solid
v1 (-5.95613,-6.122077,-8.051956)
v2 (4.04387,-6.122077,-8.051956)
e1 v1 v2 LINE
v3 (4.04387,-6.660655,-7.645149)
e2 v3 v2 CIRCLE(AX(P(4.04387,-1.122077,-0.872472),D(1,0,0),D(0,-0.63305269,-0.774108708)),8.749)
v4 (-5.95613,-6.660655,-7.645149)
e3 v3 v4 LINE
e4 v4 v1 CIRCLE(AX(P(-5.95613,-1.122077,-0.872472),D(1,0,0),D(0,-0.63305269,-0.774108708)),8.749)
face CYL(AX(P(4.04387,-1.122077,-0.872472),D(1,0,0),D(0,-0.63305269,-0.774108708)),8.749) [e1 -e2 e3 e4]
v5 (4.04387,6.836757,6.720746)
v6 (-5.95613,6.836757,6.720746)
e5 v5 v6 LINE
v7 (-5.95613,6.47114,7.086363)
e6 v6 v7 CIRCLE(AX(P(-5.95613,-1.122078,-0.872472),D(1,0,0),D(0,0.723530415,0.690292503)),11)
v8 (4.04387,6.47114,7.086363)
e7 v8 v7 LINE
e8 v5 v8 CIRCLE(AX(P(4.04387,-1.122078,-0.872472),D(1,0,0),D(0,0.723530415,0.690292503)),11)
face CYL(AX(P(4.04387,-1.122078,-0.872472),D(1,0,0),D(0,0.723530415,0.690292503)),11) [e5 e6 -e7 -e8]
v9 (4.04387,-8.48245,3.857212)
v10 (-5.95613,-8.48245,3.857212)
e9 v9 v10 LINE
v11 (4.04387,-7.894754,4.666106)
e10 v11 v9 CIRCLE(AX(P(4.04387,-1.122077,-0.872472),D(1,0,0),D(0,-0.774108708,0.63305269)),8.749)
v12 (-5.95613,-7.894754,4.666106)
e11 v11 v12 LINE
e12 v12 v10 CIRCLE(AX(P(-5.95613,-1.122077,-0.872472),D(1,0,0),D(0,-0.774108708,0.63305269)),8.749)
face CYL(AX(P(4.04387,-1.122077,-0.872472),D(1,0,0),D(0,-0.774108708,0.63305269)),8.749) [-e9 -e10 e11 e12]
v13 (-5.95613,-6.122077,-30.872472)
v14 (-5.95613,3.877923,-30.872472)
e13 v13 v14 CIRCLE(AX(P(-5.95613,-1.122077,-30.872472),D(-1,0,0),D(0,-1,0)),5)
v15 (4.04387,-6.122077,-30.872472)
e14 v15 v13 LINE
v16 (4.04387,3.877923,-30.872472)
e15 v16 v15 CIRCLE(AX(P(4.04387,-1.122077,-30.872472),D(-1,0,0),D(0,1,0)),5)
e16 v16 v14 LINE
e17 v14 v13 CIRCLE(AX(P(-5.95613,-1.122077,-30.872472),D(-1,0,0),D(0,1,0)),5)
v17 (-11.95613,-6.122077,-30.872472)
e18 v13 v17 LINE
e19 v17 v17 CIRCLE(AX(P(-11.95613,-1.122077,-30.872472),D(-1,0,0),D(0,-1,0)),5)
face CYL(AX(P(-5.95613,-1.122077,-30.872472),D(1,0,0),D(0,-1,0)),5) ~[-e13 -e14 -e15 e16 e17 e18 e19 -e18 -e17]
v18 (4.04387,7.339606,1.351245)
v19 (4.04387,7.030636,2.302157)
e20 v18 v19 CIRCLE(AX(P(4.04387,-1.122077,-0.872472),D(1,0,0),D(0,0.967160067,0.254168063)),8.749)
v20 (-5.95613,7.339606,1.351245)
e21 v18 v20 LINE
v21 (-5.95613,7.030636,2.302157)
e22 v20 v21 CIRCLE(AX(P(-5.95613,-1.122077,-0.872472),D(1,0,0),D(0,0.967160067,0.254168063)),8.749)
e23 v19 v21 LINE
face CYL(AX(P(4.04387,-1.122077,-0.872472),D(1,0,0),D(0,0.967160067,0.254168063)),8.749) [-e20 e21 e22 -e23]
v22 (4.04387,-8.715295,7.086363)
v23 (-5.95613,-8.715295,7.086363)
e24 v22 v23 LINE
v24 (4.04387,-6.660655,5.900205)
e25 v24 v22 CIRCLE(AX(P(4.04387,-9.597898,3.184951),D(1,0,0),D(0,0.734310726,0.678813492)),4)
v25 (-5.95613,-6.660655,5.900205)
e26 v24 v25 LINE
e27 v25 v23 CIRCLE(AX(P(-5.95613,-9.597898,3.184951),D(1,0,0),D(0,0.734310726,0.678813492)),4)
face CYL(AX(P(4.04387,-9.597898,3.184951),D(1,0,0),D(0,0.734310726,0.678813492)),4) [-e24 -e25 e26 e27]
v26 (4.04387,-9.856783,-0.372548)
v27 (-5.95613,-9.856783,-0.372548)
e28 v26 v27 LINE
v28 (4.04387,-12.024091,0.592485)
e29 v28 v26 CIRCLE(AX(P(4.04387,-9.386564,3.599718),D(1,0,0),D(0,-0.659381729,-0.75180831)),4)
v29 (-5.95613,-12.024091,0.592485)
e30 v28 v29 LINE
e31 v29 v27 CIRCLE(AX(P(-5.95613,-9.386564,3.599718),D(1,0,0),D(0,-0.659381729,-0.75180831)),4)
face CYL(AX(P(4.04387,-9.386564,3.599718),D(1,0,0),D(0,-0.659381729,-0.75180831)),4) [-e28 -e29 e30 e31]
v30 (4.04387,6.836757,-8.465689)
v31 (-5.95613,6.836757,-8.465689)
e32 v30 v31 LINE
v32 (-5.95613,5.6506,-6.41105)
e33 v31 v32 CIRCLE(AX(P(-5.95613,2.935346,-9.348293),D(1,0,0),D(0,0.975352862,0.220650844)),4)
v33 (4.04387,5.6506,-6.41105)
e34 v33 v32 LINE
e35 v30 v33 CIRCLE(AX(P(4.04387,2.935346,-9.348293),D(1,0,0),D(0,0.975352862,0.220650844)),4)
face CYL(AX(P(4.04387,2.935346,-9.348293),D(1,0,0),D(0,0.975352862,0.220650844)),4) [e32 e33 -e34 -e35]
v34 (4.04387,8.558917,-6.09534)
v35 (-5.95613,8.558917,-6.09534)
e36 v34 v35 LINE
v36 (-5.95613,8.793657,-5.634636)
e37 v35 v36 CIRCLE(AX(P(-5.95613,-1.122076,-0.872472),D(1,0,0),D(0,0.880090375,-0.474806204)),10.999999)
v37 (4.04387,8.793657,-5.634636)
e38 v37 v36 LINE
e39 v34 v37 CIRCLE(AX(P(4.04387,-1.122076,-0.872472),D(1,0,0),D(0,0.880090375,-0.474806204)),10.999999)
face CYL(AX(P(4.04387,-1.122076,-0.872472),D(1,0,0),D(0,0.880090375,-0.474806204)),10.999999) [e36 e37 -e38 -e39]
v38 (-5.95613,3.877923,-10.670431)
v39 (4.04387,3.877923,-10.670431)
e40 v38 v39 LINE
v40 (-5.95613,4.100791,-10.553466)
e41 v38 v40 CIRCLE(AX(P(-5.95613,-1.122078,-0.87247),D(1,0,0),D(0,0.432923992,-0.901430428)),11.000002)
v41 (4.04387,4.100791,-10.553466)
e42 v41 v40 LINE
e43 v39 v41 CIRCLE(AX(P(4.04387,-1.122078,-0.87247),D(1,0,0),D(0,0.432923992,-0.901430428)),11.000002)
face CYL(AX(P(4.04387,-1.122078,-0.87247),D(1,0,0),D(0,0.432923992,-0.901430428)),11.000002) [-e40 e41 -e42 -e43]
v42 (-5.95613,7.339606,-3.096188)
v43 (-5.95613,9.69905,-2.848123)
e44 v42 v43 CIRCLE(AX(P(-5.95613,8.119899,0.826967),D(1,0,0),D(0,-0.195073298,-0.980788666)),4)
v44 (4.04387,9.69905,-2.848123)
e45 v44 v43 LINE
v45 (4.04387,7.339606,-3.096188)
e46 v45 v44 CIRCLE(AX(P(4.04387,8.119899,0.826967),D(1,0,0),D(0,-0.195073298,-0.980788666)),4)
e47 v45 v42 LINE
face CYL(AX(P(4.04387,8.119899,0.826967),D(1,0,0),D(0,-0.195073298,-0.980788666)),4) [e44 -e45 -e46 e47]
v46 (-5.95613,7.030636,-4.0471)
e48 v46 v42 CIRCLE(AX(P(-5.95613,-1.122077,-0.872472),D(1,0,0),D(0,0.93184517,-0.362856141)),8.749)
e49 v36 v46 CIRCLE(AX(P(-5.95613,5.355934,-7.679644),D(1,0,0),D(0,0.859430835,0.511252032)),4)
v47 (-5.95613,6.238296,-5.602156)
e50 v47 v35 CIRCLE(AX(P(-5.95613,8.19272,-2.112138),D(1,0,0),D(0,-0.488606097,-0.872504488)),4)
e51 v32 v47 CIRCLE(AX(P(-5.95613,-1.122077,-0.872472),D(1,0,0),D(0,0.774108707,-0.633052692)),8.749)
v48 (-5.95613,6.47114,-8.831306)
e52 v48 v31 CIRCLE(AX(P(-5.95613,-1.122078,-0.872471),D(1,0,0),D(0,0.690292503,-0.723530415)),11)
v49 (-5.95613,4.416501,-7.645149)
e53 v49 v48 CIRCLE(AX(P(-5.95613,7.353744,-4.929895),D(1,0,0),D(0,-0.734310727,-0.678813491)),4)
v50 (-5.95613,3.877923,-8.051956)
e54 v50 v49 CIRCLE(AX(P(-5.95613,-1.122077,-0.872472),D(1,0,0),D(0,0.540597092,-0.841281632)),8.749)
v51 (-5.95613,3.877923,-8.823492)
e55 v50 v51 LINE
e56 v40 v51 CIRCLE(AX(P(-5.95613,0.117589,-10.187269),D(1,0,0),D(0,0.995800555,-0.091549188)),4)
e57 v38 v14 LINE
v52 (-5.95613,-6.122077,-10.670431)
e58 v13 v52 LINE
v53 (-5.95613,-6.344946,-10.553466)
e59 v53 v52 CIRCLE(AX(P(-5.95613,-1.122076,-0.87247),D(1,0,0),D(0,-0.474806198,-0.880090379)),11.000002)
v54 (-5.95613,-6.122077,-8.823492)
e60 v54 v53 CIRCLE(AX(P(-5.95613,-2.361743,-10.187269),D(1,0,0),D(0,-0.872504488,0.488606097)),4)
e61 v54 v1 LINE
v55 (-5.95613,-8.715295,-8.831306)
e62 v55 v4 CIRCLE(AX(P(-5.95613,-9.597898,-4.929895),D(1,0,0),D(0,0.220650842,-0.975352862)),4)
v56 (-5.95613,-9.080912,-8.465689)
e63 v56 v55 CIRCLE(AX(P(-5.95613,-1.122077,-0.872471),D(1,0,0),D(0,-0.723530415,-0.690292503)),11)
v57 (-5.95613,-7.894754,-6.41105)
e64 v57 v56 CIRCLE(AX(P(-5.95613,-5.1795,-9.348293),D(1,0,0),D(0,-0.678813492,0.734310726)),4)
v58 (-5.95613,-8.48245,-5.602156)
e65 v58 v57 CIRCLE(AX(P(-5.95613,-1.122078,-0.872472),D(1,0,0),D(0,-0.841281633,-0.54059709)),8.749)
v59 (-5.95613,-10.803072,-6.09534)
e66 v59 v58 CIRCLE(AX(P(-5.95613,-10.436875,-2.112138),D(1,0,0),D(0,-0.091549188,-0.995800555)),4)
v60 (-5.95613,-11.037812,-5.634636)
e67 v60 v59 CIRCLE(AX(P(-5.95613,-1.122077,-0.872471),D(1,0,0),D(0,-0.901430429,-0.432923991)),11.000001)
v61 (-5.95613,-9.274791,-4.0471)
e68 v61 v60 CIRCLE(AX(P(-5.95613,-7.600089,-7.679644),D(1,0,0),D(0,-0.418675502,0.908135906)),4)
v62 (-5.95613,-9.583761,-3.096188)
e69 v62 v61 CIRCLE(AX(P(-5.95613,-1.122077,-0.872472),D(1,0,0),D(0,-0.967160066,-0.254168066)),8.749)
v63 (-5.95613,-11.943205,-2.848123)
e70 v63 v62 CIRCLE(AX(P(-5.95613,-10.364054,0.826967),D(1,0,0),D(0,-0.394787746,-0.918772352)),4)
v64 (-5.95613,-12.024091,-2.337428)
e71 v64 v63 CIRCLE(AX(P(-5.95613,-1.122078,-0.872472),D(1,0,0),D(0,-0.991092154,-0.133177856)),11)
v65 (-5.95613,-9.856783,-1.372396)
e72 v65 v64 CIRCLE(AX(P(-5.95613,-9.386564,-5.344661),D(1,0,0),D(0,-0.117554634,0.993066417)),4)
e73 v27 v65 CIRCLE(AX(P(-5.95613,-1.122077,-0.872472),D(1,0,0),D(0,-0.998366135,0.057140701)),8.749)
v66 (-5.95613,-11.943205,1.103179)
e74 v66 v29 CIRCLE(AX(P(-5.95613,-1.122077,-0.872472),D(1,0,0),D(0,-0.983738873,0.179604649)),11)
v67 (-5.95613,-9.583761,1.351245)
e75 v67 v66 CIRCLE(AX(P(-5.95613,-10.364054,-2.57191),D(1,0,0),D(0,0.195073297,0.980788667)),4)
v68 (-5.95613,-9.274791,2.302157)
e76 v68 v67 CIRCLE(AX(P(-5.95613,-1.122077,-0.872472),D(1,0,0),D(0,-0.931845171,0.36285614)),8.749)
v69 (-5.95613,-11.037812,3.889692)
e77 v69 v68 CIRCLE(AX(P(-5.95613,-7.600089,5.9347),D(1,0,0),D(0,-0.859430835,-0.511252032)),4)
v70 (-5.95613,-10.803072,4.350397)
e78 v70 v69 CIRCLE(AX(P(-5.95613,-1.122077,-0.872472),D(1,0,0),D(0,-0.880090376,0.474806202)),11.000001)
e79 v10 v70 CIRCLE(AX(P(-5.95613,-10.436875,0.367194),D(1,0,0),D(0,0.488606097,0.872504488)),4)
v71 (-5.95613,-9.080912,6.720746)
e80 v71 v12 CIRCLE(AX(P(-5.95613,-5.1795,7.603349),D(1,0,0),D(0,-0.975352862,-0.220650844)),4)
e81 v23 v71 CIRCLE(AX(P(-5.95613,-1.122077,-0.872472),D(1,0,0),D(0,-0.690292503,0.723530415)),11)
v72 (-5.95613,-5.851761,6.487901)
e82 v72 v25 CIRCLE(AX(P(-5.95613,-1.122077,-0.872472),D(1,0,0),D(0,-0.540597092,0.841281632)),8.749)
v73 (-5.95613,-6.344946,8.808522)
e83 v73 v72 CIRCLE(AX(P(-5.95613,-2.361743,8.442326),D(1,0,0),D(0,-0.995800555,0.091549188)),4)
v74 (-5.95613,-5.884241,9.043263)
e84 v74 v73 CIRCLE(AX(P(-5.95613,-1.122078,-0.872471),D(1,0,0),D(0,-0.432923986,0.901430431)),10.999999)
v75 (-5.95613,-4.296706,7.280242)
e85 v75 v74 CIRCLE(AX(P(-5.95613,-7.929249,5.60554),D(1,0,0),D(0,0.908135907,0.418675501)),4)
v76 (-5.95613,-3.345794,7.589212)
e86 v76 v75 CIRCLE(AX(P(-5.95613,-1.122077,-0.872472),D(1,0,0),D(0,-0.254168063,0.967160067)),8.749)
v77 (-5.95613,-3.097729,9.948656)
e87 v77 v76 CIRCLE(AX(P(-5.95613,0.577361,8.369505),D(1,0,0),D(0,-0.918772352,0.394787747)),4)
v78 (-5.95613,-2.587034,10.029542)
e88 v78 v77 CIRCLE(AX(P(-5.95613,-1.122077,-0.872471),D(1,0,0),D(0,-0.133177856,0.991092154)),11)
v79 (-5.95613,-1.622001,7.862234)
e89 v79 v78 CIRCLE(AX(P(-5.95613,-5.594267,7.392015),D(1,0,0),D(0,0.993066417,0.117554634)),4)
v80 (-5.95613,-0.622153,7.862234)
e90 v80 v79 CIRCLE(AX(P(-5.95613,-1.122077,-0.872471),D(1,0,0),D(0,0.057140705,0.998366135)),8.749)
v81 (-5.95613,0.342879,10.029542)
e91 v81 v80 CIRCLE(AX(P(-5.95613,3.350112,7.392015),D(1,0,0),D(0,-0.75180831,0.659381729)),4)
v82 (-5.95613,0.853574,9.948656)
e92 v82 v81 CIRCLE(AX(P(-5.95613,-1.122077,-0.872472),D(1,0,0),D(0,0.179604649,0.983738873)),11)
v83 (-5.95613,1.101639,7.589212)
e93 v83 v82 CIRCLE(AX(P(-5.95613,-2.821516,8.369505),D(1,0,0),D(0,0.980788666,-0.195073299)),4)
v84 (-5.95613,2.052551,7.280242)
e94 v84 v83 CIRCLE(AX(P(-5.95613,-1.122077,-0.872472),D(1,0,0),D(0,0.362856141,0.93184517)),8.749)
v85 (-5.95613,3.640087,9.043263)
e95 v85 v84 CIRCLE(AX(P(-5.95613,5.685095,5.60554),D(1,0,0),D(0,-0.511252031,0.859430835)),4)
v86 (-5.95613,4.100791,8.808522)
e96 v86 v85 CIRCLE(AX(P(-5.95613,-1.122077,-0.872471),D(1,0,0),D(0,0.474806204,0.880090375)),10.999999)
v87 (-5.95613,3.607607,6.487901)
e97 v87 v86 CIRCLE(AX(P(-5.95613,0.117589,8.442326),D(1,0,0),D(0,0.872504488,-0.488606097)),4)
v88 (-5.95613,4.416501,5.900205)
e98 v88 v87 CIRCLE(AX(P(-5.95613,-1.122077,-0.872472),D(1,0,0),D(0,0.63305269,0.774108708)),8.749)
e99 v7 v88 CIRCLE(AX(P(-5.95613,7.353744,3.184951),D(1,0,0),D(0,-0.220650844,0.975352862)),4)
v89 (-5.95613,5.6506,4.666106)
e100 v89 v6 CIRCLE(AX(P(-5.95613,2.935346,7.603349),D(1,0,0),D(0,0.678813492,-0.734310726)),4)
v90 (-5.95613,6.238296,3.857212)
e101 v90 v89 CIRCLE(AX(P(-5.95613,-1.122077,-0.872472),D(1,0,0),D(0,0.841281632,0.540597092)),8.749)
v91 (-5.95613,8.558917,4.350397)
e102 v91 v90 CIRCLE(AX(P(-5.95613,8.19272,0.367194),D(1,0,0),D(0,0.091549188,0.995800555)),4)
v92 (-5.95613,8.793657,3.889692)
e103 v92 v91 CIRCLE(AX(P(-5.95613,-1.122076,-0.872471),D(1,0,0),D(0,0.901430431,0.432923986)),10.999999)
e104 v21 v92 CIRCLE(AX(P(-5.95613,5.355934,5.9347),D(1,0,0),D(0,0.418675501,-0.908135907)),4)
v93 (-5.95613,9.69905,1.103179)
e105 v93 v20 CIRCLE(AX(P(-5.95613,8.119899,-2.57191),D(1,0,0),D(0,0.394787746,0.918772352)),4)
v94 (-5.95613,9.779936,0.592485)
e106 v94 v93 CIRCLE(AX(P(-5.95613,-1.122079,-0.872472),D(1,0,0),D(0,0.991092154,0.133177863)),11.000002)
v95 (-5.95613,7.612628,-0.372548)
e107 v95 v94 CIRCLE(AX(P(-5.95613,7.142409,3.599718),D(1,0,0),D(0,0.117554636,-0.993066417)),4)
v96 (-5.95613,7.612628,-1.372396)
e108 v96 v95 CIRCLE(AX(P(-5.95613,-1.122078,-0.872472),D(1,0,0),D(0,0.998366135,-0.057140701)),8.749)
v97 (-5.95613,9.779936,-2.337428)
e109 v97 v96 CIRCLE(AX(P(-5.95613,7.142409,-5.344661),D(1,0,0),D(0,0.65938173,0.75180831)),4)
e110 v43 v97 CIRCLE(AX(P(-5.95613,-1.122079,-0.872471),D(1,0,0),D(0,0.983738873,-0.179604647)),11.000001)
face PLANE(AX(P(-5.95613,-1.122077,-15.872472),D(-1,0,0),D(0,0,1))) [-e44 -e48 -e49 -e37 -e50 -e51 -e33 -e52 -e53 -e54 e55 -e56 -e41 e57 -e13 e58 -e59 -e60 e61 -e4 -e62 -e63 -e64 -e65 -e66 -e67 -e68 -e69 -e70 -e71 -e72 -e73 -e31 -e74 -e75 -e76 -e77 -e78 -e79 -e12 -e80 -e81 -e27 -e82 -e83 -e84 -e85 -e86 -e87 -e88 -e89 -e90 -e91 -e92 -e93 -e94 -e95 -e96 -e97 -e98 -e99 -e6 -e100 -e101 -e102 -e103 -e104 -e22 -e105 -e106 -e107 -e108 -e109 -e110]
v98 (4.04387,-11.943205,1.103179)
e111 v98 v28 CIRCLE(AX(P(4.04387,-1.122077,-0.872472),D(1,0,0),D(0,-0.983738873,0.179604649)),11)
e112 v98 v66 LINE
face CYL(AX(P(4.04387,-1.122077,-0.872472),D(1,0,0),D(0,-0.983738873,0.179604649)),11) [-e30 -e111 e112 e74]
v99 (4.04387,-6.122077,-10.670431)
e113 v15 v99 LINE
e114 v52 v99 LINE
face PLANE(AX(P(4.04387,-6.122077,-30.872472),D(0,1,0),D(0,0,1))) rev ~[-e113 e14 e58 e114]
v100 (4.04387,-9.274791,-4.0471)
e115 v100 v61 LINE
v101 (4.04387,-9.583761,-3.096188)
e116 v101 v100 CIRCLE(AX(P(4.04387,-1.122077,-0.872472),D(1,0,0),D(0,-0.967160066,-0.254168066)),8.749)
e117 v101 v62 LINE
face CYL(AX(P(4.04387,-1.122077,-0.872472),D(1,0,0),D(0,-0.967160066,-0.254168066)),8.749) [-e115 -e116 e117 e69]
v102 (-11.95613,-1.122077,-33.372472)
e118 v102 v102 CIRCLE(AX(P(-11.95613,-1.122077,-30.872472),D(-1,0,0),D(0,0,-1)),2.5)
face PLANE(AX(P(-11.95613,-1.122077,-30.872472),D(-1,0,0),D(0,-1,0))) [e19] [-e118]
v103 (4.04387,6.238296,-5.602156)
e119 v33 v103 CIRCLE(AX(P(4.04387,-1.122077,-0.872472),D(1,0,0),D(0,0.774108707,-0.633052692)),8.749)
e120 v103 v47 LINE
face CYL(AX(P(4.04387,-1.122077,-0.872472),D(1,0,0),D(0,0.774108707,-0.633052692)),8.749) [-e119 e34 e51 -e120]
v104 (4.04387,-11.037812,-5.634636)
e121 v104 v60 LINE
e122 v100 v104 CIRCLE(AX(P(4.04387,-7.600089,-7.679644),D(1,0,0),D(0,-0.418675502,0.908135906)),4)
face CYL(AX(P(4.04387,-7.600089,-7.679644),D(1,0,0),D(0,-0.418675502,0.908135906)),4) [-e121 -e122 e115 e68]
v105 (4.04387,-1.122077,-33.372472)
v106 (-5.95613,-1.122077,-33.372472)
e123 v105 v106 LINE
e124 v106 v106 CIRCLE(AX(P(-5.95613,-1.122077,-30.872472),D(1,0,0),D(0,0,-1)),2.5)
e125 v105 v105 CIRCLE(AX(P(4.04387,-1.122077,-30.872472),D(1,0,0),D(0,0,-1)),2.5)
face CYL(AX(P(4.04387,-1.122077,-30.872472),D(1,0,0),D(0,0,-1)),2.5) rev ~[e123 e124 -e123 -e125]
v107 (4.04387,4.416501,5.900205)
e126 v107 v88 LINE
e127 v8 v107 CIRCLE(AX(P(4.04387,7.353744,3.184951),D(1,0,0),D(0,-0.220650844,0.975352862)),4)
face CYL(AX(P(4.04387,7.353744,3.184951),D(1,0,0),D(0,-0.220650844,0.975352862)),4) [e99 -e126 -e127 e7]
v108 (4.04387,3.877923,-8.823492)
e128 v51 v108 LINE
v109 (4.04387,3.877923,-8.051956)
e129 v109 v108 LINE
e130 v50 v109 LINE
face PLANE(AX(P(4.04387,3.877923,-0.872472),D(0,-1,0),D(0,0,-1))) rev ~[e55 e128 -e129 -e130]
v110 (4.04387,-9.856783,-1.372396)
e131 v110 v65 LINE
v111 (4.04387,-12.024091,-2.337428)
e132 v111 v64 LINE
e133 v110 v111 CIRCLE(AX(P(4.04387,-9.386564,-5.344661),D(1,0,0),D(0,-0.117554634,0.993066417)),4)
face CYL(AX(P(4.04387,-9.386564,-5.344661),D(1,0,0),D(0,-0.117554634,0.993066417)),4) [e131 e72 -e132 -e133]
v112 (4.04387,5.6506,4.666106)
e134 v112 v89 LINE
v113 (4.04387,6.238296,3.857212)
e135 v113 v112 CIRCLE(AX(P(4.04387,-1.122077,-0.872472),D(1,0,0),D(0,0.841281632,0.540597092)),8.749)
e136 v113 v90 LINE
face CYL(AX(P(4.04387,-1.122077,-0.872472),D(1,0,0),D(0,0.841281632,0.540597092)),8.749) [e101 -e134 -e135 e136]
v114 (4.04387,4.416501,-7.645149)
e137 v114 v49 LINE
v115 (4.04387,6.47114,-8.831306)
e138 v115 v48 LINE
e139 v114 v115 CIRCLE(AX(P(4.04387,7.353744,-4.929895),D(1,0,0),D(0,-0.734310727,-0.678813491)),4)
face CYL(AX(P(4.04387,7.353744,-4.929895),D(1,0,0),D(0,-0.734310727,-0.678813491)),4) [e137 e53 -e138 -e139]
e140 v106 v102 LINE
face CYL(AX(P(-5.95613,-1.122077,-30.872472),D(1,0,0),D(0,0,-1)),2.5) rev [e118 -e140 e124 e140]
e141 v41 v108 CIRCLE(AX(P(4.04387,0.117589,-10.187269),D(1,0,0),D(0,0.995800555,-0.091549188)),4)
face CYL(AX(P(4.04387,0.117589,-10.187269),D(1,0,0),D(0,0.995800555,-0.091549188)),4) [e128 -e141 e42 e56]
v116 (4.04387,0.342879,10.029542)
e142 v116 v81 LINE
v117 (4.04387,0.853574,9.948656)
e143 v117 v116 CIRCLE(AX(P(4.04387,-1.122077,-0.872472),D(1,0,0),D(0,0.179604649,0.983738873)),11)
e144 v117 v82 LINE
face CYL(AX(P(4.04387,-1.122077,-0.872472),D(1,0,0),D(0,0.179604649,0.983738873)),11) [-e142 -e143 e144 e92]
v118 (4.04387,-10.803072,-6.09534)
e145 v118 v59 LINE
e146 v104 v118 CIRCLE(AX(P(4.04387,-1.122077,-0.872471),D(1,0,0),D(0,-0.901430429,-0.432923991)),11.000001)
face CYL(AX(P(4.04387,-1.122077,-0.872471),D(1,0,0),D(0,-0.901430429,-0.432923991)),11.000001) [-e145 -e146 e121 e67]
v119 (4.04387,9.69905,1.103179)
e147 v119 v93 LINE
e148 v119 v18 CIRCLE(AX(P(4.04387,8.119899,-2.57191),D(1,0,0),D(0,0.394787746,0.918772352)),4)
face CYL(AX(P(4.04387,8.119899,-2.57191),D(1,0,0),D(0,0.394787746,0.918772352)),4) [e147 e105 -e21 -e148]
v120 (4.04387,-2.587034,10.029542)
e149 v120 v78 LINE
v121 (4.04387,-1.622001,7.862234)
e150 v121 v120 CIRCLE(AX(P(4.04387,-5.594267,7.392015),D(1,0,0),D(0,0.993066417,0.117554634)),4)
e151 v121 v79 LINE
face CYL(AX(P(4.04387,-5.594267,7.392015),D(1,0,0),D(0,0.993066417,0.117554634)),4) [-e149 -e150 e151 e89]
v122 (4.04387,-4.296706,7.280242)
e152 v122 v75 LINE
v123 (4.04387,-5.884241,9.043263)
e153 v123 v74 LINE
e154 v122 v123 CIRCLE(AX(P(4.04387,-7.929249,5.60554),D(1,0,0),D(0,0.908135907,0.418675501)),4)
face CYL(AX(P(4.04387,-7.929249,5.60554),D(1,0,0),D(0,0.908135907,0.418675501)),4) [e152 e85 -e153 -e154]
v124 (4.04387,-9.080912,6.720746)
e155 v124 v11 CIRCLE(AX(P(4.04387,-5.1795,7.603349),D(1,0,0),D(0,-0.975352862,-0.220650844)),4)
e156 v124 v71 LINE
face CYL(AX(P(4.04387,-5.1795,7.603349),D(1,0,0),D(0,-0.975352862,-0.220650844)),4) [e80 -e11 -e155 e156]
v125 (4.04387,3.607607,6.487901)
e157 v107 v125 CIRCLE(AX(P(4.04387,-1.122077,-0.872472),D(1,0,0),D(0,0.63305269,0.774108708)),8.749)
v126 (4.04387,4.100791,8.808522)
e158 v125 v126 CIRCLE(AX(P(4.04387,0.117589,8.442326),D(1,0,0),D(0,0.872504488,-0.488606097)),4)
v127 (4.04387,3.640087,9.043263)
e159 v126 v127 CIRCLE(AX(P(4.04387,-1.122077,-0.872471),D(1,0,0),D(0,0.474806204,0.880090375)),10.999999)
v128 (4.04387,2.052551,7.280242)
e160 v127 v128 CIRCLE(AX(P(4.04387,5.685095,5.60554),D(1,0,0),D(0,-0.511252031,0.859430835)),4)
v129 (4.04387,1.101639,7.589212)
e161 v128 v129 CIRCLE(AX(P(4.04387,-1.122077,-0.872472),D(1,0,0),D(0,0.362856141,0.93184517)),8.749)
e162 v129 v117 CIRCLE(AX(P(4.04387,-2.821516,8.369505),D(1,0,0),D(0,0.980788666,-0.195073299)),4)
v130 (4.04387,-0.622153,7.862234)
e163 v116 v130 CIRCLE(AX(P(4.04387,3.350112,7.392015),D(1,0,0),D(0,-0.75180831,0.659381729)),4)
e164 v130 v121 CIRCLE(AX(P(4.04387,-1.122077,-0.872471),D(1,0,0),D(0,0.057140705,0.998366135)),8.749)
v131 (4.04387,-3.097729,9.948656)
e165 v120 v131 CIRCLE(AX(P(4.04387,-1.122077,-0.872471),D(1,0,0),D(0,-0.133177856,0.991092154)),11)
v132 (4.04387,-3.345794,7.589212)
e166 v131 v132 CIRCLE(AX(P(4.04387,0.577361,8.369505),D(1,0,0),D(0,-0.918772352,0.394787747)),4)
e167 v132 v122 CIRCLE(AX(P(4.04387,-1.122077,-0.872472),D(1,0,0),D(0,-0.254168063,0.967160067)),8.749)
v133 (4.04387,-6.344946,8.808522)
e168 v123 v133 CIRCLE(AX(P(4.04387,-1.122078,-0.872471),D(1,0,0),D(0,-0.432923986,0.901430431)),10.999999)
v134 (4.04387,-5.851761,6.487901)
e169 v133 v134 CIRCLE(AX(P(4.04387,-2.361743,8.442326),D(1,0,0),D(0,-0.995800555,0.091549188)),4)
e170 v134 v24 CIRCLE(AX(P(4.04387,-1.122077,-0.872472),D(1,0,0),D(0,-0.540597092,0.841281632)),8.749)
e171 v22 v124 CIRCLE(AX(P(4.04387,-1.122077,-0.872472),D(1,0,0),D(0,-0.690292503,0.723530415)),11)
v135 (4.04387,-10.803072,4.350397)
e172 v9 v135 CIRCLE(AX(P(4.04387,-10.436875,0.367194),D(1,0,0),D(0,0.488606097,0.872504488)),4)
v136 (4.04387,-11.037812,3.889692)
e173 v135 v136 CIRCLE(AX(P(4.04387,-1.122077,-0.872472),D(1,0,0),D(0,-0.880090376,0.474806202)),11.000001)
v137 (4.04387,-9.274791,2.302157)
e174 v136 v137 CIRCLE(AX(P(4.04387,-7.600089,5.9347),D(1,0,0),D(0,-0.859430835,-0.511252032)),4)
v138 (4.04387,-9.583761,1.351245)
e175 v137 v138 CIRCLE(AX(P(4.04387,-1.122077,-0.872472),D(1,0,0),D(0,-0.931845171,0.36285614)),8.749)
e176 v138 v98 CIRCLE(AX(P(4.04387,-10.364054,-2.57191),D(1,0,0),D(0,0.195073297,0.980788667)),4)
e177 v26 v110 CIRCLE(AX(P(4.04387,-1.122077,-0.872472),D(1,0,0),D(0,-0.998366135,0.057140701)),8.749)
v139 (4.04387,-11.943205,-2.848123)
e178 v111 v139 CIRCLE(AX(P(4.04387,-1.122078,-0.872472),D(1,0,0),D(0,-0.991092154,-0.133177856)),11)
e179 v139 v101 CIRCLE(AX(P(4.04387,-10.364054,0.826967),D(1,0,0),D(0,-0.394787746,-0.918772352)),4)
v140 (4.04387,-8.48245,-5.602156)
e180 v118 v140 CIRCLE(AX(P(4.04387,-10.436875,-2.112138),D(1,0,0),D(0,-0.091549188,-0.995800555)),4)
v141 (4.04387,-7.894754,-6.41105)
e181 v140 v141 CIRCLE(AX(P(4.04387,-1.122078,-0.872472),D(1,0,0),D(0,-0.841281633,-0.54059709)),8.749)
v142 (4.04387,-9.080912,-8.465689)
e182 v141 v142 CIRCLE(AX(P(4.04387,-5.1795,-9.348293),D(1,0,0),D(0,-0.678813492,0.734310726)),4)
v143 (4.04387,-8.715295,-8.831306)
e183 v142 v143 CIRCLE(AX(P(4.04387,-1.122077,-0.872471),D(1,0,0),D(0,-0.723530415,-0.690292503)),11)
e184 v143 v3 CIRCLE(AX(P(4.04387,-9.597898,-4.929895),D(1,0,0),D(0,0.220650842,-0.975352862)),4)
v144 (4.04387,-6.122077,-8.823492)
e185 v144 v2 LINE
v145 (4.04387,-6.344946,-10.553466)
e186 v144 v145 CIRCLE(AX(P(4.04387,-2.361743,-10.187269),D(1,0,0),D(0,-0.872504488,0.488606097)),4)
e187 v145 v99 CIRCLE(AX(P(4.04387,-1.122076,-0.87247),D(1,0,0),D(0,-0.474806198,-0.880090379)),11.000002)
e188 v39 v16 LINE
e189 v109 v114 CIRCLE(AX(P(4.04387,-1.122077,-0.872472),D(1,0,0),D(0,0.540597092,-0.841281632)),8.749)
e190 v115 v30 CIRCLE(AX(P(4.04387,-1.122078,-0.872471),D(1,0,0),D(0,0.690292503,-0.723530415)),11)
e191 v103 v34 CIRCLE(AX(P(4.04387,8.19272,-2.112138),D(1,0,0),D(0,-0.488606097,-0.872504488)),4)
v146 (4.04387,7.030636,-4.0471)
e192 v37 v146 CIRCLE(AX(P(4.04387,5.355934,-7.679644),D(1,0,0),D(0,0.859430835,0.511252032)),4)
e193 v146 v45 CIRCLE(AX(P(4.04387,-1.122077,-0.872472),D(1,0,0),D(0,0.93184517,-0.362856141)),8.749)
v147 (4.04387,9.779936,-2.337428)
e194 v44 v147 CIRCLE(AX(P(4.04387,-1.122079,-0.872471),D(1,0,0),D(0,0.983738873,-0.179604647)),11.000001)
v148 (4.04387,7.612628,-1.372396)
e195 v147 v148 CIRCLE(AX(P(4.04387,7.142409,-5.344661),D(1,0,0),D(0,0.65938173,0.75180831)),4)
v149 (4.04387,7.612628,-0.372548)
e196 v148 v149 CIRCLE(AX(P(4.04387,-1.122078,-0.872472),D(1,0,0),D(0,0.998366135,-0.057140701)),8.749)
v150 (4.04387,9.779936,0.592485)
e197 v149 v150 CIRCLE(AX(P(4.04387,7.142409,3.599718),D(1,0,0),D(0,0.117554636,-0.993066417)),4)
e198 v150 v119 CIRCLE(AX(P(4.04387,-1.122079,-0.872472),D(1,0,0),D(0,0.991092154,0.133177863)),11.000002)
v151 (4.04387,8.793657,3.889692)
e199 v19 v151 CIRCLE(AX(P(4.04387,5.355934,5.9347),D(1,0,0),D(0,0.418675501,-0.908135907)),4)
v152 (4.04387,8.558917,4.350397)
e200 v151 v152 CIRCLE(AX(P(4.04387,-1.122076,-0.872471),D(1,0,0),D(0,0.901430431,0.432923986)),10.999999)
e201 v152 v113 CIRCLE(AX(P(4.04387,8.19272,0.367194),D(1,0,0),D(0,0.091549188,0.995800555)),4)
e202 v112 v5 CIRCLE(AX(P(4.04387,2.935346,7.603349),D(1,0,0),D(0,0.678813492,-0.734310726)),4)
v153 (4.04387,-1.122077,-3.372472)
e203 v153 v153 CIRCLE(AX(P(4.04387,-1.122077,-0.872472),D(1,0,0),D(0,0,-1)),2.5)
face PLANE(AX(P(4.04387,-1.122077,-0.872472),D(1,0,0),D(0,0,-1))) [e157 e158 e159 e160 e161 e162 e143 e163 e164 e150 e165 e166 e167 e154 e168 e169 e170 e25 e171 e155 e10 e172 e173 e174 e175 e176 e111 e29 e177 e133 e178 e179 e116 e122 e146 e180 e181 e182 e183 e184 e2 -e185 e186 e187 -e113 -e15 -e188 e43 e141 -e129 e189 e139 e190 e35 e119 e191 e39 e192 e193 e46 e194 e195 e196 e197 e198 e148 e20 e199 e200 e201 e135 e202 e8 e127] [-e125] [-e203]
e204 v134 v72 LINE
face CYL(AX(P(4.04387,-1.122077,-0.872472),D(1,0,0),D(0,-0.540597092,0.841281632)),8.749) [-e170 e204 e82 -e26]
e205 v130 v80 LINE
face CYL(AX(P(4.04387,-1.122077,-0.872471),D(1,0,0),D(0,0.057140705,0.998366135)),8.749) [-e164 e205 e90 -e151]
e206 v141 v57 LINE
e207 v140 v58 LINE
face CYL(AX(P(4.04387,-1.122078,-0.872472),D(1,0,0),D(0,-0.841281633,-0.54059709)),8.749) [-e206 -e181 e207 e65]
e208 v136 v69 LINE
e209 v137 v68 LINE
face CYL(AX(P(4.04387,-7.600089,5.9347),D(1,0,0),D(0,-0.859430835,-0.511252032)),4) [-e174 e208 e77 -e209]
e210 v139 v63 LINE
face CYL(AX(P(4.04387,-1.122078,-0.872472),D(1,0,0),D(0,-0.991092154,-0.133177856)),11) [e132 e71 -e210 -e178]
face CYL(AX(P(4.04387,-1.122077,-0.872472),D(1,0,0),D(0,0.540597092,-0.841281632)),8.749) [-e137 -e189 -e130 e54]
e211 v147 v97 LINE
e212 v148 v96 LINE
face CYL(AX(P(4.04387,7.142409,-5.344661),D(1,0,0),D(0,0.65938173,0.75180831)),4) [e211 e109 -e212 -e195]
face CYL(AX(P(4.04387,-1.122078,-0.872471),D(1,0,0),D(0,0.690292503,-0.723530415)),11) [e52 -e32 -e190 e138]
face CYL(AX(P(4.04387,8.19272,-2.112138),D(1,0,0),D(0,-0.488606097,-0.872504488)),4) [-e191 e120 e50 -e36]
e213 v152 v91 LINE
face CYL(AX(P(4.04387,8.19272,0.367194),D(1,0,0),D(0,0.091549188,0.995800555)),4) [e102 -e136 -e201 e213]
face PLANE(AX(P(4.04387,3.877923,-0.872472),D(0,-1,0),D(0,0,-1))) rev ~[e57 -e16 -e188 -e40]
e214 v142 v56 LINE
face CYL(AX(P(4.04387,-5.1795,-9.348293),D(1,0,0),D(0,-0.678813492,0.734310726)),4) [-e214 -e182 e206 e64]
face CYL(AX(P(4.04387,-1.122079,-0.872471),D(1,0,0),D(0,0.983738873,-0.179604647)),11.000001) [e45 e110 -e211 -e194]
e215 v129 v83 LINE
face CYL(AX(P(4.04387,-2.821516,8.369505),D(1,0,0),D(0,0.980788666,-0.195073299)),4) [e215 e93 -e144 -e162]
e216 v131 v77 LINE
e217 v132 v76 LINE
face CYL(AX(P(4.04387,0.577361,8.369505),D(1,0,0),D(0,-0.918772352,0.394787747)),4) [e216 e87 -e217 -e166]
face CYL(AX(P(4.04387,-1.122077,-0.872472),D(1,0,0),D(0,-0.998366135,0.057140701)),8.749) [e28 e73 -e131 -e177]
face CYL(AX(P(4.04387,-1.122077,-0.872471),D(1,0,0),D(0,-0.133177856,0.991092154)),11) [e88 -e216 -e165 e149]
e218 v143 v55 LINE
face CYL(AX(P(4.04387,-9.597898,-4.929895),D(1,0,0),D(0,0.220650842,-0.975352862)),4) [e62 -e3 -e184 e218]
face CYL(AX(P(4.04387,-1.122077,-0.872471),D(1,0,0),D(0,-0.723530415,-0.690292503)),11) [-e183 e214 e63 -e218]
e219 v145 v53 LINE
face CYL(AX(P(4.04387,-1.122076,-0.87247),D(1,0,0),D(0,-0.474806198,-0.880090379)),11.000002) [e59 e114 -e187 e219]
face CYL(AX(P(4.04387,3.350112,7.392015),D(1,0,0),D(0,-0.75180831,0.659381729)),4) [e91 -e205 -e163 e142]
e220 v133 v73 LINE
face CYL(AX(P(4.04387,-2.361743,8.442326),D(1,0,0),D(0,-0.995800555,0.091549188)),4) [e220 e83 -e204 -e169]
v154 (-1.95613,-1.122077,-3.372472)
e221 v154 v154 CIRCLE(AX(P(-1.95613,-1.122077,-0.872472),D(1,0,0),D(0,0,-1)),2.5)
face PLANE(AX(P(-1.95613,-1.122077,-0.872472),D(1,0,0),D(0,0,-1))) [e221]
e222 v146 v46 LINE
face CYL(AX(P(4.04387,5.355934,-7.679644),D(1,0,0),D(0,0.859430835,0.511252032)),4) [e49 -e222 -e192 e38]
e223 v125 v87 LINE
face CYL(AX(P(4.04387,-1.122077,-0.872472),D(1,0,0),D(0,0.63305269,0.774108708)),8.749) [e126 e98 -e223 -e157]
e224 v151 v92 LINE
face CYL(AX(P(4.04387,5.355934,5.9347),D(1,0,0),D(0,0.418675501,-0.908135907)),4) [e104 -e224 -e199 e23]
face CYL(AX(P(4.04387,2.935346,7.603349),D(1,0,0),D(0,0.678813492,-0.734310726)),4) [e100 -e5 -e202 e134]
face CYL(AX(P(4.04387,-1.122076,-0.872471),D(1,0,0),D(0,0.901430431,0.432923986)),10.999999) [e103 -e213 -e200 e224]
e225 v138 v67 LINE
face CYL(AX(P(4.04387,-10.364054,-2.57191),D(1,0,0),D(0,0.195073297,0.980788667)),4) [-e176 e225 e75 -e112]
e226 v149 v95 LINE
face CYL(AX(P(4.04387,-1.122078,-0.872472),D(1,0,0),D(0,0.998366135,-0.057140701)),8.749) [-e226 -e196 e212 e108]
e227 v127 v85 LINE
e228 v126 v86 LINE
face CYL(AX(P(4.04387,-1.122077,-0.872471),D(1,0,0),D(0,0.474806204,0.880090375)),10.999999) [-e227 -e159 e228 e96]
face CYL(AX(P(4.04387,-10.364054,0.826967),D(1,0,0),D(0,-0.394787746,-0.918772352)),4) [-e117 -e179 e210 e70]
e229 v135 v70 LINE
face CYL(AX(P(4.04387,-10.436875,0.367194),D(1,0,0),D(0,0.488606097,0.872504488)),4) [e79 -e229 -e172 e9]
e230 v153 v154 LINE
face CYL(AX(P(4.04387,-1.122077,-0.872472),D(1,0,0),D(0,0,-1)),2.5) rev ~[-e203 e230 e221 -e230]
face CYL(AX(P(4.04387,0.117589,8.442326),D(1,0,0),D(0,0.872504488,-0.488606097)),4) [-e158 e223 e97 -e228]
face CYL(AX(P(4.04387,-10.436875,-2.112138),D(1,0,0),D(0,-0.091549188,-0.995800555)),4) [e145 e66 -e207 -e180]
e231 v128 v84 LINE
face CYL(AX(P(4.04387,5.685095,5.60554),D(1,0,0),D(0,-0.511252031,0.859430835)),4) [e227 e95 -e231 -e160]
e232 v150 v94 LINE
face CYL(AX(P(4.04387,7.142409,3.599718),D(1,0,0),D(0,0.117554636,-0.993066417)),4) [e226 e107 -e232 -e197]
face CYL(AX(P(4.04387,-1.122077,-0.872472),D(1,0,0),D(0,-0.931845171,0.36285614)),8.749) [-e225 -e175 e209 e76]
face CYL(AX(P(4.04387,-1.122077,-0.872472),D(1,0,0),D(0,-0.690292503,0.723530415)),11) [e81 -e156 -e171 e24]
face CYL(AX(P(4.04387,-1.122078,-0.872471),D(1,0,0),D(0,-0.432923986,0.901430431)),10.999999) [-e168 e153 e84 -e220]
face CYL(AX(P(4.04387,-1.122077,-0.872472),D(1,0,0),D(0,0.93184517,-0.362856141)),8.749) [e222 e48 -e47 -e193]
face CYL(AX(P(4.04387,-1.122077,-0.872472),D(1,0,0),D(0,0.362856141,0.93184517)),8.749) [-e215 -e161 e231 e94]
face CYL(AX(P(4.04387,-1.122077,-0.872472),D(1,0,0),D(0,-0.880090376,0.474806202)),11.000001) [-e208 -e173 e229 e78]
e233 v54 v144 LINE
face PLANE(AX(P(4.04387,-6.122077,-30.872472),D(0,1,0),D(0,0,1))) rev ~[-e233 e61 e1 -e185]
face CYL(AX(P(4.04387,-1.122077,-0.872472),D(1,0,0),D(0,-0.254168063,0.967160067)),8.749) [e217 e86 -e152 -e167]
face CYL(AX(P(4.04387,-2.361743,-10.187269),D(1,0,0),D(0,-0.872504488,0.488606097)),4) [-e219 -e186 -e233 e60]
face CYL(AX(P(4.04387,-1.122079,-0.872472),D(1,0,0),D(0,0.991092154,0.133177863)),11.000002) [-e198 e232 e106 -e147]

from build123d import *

# Parameters (mm, degrees)
SKETCH1_R           = 2.5
BOSS_EXTRUDE1_DEPTH = 10
SKETCH2_R           = 2.5
BOSS_EXTRUDE2_DEPTH = 10
SKETCH3_R           = 5
SKETCH3_R_2         = 2.5
BOSS_EXTRUDE3_DEPTH = 6
SKETCH4_R           = 2.5
CUT_EXTRUDE1_DEPTH  = 6


with BuildPart() as part:
    # Sketch1 → Boss-Extrude1 (new body)
    with BuildSketch(Plane(origin=(4.043870029, 0, 0), x_dir=(0, 0, -1), z_dir=(1, 0, 0))):
        with BuildLine():
            ThreePointArc((-10.029541992, 0.342879069), (-9.019080639, -0.304016541), (-7.862233613, -0.622153359))
            ThreePointArc((-7.862233613, -0.622153359), (-7.876528296, -1.122077366), (-7.862233613, -1.622001374))
            ThreePointArc((-7.862233613, -1.622001374), (-9.019080639, -1.940138191), (-10.029541992, -2.587033801))
            ThreePointArc((-10.029541992, -2.587033801), (-9.992100042, -2.842856482), (-9.948655897, -3.097728508))
            ThreePointArc((-9.948655897, -3.097728508), (-8.787748306, -3.400713063), (-7.58921172, -3.345793765))
            ThreePointArc((-7.58921172, -3.345793765), (-7.448321757, -3.82566705), (-7.280241692, -4.296705735))
            ThreePointArc((-7.280241692, -4.296705735), (-8.282158911, -4.956757219), (-9.043263028, -5.884241235))
            ThreePointArc((-9.043263028, -5.884241235), (-8.928600062, -6.115972863), (-8.808522437, -6.344945585))
            ThreePointArc((-8.808522437, -6.344945585), (-7.610806331, -6.274360846), (-6.487901298, -5.851761317))
            ThreePointArc((-6.487901298, -5.851761317), (-6.20561798, -6.264610538), (-5.90020538, -6.660655353))
            ThreePointArc((-5.90020538, -6.660655353), (-6.649118154, -7.598011066), (-7.086362862, -8.715294889))
            ThreePointArc((-7.086362862, -8.715294889), (-6.905702889, -8.900251959), (-6.720745819, -9.080911932))
            ThreePointArc((-6.720745819, -9.080911932), (-5.603461996, -8.643667224), (-4.666106283, -7.89475445))
            ThreePointArc((-4.666106283, -7.89475445), (-4.270061468, -8.20016705), (-3.857212247, -8.482450368))
            ThreePointArc((-3.857212247, -8.482450368), (-4.279811776, -9.605355401), (-4.350396515, -10.803071507))
            ThreePointArc((-4.350396515, -10.803071507), (-4.121423793, -10.923149132), (-3.889692165, -11.037812099))
            ThreePointArc((-3.889692165, -11.037812099), (-2.962208149, -10.276707981), (-2.302156665, -9.274790762))
            ThreePointArc((-2.302156665, -9.274790762), (-1.83111798, -9.442870827), (-1.351244695, -9.583760791))
            ThreePointArc((-1.351244695, -9.583760791), (-1.406163992, -10.782297376), (-1.103179437, -11.943204968))
            ThreePointArc((-1.103179437, -11.943204968), (-0.848307411, -11.986649113), (-0.592484731, -12.024091063))
            ThreePointArc((-0.592484731, -12.024091063), (0.054410879, -11.01362971), (0.372547697, -9.856782684))
            ThreePointArc((0.372547697, -9.856782684), (0.872471704, -9.871077366), (1.372395712, -9.856782684))
            ThreePointArc((1.372395712, -9.856782684), (1.690532529, -11.01362971), (2.337428139, -12.024091063))
            ThreePointArc((2.337428139, -12.024091063), (2.59325082, -11.986649113), (2.848122846, -11.943204968))
            ThreePointArc((2.848122846, -11.943204968), (3.151107401, -10.782297376), (3.096188103, -9.583760791))
            ThreePointArc((3.096188103, -9.583760791), (3.576061388, -9.442870827), (4.047100073, -9.274790762))
            ThreePointArc((4.047100073, -9.274790762), (4.707151558, -10.276707981), (5.634635573, -11.037812099))
            ThreePointArc((5.634635573, -11.037812099), (5.866367201, -10.923149132), (6.095339923, -10.803071507))
            ThreePointArc((6.095339923, -10.803071507), (6.024755184, -9.605355401), (5.602155655, -8.482450368))
            ThreePointArc((5.602155655, -8.482450368), (6.015004877, -8.20016705), (6.411049691, -7.89475445))
            ThreePointArc((6.411049691, -7.89475445), (7.348405404, -8.643667224), (8.465689227, -9.080911932))
            ThreePointArc((8.465689227, -9.080911932), (8.650646297, -8.900251959), (8.83130627, -8.715294889))
            ThreePointArc((8.83130627, -8.715294889), (8.394061563, -7.598011066), (7.645148788, -6.660655353))
            ThreePointArc((7.645148788, -6.660655353), (7.950561388, -6.264610538), (8.232844706, -5.851761317))
            ThreePointArc((8.232844706, -5.851761317), (9.355749739, -6.274360846), (10.553465846, -6.344945585))
            ThreePointArc((10.553465846, -6.344945585), (10.67354347, -6.115972863), (10.788206437, -5.884241235))
            ThreePointArc((10.788206437, -5.884241235), (10.02710232, -4.956757219), (9.0251851, -4.296705735))
            ThreePointArc((9.0251851, -4.296705735), (9.193265165, -3.82566705), (9.334155129, -3.345793765))
            ThreePointArc((9.334155129, -3.345793765), (10.532691714, -3.400713063), (11.693599306, -3.097728508))
            ThreePointArc((11.693599306, -3.097728508), (11.737043451, -2.842856482), (11.774485401, -2.587033801))
            ThreePointArc((11.774485401, -2.587033801), (10.764024048, -1.940138191), (9.607177022, -1.622001374))
            ThreePointArc((9.607177022, -1.622001374), (9.621471704, -1.122077366), (9.607177022, -0.622153359))
            ThreePointArc((9.607177022, -0.622153359), (10.764024048, -0.304016541), (11.774485401, 0.342879069))
            ThreePointArc((11.774485401, 0.342879069), (11.737043451, 0.598701749), (11.693599306, 0.853573775))
            ThreePointArc((11.693599306, 0.853573775), (10.532691714, 1.156558331), (9.334155129, 1.101639033))
            ThreePointArc((9.334155129, 1.101639033), (9.193265165, 1.581512318), (9.0251851, 2.052551003))
            ThreePointArc((9.0251851, 2.052551003), (10.02710232, 2.712602487), (10.788206437, 3.640086503))
            ThreePointArc((10.788206437, 3.640086503), (10.67354347, 3.871818131), (10.553465846, 4.100790853))
            ThreePointArc((10.553465846, 4.100790853), (9.355749739, 4.030206114), (8.232844706, 3.607606585))
            ThreePointArc((8.232844706, 3.607606585), (7.950561388, 4.020455806), (7.645148788, 4.416500621))
            ThreePointArc((7.645148788, 4.416500621), (8.394061563, 5.353856334), (8.83130627, 6.471140157))
            ThreePointArc((8.83130627, 6.471140157), (8.650646297, 6.656097227), (8.465689227, 6.8367572))
            ThreePointArc((8.465689227, 6.8367572), (7.348405404, 6.399512492), (6.411049691, 5.650599718))
            ThreePointArc((6.411049691, 5.650599718), (6.015004877, 5.956012318), (5.602155655, 6.238295636))
            ThreePointArc((5.602155655, 6.238295636), (6.024755184, 7.361200669), (6.095339923, 8.558916775))
            ThreePointArc((6.095339923, 8.558916775), (5.866367201, 8.6789944), (5.634635573, 8.793657366))
            ThreePointArc((5.634635573, 8.793657366), (4.707151558, 8.032553249), (4.047100073, 7.03063603))
            ThreePointArc((4.047100073, 7.03063603), (3.576061388, 7.198716095), (3.096188103, 7.339606058))
            ThreePointArc((3.096188103, 7.339606058), (3.151107401, 8.538142644), (2.848122846, 9.699050235))
            ThreePointArc((2.848122846, 9.699050235), (2.59325082, 9.74249438), (2.337428139, 9.779936331))
            ThreePointArc((2.337428139, 9.779936331), (1.690532529, 8.769474978), (1.372395712, 7.612627952))
            ThreePointArc((1.372395712, 7.612627952), (0.872471704, 7.626922634), (0.372547697, 7.612627952))
            ThreePointArc((0.372547697, 7.612627952), (0.054410879, 8.769474978), (-0.592484731, 9.779936331))
            ThreePointArc((-0.592484731, 9.779936331), (-0.848307411, 9.74249438), (-1.103179437, 9.699050235))
            ThreePointArc((-1.103179437, 9.699050235), (-1.406163992, 8.538142644), (-1.351244695, 7.339606058))
            ThreePointArc((-1.351244695, 7.339606058), (-1.83111798, 7.198716095), (-2.302156665, 7.03063603))
            ThreePointArc((-2.302156665, 7.03063603), (-2.962208149, 8.032553249), (-3.889692165, 8.793657366))
            ThreePointArc((-3.889692165, 8.793657366), (-4.121423793, 8.6789944), (-4.350396515, 8.558916775))
            ThreePointArc((-4.350396515, 8.558916775), (-4.279811776, 7.361200669), (-3.857212247, 6.238295636))
            ThreePointArc((-3.857212247, 6.238295636), (-4.270061468, 5.956012318), (-4.666106283, 5.650599718))
            ThreePointArc((-4.666106283, 5.650599718), (-5.603461996, 6.399512492), (-6.720745819, 6.8367572))
            ThreePointArc((-6.720745819, 6.8367572), (-6.905702889, 6.656097227), (-7.086362862, 6.471140157))
            ThreePointArc((-7.086362862, 6.471140157), (-6.649118154, 5.353856334), (-5.90020538, 4.416500621))
            ThreePointArc((-5.90020538, 4.416500621), (-6.20561798, 4.020455806), (-6.487901298, 3.607606585))
            ThreePointArc((-6.487901298, 3.607606585), (-7.610806331, 4.030206114), (-8.808522437, 4.100790853))
            ThreePointArc((-8.808522437, 4.100790853), (-8.928600062, 3.871818131), (-9.043263028, 3.640086503))
            ThreePointArc((-9.043263028, 3.640086503), (-8.282158911, 2.712602487), (-7.280241692, 2.052551003))
            ThreePointArc((-7.280241692, 2.052551003), (-7.448321757, 1.581512318), (-7.58921172, 1.101639033))
            ThreePointArc((-7.58921172, 1.101639033), (-8.787748306, 1.156558331), (-9.948655897, 0.853573775))
            ThreePointArc((-9.948655897, 0.853573775), (-9.992100042, 0.598701749), (-10.029541992, 0.342879069))
        make_face()
        with Locations(Location((0.872471704, -1.122077366, 0), (0, 0, 180))):
            Circle(SKETCH1_R, mode=Mode.SUBTRACT)
    extrude(amount=-BOSS_EXTRUDE1_DEPTH)

    # Sketch2 → Boss-Extrude2 (add)
    with BuildSketch(Plane(origin=(4.043870029, 0, 0), x_dir=(0, 0, -1), z_dir=(1, 0, 0))):
        with BuildLine():
            Line((0.872471704, 3.877922634), (30.872471704, 3.877922634))
            ThreePointArc((30.872471704, 3.877922634), (35.872471704, -1.122077366), (30.872471704, -6.122077366))
            Line((30.872471704, -6.122077366), (0.872471704, -6.122077366))
            ThreePointArc((0.872471704, -6.122077366), (-4.127528296, -1.122077366), (0.872471704, 3.877922634))
        make_face()
        with Locations((30.872471704, -1.122077366)):
            Circle(SKETCH2_R, mode=Mode.SUBTRACT)
    extrude(amount=-BOSS_EXTRUDE2_DEPTH)

    # Sketch3 → Boss-Extrude3 (add)
    with BuildSketch(Plane.ZY.offset(5.956129971)):
        with Locations(Location((-30.872471704, -1.122077366, 0), (0, 0, 270))):
            Circle(SKETCH3_R)
        with Locations(Location((-30.872471704, -1.122077366, 0), (0, 0, 180))):
            Circle(SKETCH3_R_2, mode=Mode.SUBTRACT)
    extrude(amount=BOSS_EXTRUDE3_DEPTH)

    # Sketch4 → Cut-Extrude1 (cut)
    with BuildSketch(Plane(origin=(4.043870029, 0, 0), x_dir=(0, 0, -1), z_dir=(1, 0, 0))):
        with Locations((0.872471704, -1.122077366)):
            Circle(SKETCH4_R)
    extrude(amount=-CUT_EXTRUDE1_DEPTH, mode=Mode.SUBTRACT)


solid = part.part
